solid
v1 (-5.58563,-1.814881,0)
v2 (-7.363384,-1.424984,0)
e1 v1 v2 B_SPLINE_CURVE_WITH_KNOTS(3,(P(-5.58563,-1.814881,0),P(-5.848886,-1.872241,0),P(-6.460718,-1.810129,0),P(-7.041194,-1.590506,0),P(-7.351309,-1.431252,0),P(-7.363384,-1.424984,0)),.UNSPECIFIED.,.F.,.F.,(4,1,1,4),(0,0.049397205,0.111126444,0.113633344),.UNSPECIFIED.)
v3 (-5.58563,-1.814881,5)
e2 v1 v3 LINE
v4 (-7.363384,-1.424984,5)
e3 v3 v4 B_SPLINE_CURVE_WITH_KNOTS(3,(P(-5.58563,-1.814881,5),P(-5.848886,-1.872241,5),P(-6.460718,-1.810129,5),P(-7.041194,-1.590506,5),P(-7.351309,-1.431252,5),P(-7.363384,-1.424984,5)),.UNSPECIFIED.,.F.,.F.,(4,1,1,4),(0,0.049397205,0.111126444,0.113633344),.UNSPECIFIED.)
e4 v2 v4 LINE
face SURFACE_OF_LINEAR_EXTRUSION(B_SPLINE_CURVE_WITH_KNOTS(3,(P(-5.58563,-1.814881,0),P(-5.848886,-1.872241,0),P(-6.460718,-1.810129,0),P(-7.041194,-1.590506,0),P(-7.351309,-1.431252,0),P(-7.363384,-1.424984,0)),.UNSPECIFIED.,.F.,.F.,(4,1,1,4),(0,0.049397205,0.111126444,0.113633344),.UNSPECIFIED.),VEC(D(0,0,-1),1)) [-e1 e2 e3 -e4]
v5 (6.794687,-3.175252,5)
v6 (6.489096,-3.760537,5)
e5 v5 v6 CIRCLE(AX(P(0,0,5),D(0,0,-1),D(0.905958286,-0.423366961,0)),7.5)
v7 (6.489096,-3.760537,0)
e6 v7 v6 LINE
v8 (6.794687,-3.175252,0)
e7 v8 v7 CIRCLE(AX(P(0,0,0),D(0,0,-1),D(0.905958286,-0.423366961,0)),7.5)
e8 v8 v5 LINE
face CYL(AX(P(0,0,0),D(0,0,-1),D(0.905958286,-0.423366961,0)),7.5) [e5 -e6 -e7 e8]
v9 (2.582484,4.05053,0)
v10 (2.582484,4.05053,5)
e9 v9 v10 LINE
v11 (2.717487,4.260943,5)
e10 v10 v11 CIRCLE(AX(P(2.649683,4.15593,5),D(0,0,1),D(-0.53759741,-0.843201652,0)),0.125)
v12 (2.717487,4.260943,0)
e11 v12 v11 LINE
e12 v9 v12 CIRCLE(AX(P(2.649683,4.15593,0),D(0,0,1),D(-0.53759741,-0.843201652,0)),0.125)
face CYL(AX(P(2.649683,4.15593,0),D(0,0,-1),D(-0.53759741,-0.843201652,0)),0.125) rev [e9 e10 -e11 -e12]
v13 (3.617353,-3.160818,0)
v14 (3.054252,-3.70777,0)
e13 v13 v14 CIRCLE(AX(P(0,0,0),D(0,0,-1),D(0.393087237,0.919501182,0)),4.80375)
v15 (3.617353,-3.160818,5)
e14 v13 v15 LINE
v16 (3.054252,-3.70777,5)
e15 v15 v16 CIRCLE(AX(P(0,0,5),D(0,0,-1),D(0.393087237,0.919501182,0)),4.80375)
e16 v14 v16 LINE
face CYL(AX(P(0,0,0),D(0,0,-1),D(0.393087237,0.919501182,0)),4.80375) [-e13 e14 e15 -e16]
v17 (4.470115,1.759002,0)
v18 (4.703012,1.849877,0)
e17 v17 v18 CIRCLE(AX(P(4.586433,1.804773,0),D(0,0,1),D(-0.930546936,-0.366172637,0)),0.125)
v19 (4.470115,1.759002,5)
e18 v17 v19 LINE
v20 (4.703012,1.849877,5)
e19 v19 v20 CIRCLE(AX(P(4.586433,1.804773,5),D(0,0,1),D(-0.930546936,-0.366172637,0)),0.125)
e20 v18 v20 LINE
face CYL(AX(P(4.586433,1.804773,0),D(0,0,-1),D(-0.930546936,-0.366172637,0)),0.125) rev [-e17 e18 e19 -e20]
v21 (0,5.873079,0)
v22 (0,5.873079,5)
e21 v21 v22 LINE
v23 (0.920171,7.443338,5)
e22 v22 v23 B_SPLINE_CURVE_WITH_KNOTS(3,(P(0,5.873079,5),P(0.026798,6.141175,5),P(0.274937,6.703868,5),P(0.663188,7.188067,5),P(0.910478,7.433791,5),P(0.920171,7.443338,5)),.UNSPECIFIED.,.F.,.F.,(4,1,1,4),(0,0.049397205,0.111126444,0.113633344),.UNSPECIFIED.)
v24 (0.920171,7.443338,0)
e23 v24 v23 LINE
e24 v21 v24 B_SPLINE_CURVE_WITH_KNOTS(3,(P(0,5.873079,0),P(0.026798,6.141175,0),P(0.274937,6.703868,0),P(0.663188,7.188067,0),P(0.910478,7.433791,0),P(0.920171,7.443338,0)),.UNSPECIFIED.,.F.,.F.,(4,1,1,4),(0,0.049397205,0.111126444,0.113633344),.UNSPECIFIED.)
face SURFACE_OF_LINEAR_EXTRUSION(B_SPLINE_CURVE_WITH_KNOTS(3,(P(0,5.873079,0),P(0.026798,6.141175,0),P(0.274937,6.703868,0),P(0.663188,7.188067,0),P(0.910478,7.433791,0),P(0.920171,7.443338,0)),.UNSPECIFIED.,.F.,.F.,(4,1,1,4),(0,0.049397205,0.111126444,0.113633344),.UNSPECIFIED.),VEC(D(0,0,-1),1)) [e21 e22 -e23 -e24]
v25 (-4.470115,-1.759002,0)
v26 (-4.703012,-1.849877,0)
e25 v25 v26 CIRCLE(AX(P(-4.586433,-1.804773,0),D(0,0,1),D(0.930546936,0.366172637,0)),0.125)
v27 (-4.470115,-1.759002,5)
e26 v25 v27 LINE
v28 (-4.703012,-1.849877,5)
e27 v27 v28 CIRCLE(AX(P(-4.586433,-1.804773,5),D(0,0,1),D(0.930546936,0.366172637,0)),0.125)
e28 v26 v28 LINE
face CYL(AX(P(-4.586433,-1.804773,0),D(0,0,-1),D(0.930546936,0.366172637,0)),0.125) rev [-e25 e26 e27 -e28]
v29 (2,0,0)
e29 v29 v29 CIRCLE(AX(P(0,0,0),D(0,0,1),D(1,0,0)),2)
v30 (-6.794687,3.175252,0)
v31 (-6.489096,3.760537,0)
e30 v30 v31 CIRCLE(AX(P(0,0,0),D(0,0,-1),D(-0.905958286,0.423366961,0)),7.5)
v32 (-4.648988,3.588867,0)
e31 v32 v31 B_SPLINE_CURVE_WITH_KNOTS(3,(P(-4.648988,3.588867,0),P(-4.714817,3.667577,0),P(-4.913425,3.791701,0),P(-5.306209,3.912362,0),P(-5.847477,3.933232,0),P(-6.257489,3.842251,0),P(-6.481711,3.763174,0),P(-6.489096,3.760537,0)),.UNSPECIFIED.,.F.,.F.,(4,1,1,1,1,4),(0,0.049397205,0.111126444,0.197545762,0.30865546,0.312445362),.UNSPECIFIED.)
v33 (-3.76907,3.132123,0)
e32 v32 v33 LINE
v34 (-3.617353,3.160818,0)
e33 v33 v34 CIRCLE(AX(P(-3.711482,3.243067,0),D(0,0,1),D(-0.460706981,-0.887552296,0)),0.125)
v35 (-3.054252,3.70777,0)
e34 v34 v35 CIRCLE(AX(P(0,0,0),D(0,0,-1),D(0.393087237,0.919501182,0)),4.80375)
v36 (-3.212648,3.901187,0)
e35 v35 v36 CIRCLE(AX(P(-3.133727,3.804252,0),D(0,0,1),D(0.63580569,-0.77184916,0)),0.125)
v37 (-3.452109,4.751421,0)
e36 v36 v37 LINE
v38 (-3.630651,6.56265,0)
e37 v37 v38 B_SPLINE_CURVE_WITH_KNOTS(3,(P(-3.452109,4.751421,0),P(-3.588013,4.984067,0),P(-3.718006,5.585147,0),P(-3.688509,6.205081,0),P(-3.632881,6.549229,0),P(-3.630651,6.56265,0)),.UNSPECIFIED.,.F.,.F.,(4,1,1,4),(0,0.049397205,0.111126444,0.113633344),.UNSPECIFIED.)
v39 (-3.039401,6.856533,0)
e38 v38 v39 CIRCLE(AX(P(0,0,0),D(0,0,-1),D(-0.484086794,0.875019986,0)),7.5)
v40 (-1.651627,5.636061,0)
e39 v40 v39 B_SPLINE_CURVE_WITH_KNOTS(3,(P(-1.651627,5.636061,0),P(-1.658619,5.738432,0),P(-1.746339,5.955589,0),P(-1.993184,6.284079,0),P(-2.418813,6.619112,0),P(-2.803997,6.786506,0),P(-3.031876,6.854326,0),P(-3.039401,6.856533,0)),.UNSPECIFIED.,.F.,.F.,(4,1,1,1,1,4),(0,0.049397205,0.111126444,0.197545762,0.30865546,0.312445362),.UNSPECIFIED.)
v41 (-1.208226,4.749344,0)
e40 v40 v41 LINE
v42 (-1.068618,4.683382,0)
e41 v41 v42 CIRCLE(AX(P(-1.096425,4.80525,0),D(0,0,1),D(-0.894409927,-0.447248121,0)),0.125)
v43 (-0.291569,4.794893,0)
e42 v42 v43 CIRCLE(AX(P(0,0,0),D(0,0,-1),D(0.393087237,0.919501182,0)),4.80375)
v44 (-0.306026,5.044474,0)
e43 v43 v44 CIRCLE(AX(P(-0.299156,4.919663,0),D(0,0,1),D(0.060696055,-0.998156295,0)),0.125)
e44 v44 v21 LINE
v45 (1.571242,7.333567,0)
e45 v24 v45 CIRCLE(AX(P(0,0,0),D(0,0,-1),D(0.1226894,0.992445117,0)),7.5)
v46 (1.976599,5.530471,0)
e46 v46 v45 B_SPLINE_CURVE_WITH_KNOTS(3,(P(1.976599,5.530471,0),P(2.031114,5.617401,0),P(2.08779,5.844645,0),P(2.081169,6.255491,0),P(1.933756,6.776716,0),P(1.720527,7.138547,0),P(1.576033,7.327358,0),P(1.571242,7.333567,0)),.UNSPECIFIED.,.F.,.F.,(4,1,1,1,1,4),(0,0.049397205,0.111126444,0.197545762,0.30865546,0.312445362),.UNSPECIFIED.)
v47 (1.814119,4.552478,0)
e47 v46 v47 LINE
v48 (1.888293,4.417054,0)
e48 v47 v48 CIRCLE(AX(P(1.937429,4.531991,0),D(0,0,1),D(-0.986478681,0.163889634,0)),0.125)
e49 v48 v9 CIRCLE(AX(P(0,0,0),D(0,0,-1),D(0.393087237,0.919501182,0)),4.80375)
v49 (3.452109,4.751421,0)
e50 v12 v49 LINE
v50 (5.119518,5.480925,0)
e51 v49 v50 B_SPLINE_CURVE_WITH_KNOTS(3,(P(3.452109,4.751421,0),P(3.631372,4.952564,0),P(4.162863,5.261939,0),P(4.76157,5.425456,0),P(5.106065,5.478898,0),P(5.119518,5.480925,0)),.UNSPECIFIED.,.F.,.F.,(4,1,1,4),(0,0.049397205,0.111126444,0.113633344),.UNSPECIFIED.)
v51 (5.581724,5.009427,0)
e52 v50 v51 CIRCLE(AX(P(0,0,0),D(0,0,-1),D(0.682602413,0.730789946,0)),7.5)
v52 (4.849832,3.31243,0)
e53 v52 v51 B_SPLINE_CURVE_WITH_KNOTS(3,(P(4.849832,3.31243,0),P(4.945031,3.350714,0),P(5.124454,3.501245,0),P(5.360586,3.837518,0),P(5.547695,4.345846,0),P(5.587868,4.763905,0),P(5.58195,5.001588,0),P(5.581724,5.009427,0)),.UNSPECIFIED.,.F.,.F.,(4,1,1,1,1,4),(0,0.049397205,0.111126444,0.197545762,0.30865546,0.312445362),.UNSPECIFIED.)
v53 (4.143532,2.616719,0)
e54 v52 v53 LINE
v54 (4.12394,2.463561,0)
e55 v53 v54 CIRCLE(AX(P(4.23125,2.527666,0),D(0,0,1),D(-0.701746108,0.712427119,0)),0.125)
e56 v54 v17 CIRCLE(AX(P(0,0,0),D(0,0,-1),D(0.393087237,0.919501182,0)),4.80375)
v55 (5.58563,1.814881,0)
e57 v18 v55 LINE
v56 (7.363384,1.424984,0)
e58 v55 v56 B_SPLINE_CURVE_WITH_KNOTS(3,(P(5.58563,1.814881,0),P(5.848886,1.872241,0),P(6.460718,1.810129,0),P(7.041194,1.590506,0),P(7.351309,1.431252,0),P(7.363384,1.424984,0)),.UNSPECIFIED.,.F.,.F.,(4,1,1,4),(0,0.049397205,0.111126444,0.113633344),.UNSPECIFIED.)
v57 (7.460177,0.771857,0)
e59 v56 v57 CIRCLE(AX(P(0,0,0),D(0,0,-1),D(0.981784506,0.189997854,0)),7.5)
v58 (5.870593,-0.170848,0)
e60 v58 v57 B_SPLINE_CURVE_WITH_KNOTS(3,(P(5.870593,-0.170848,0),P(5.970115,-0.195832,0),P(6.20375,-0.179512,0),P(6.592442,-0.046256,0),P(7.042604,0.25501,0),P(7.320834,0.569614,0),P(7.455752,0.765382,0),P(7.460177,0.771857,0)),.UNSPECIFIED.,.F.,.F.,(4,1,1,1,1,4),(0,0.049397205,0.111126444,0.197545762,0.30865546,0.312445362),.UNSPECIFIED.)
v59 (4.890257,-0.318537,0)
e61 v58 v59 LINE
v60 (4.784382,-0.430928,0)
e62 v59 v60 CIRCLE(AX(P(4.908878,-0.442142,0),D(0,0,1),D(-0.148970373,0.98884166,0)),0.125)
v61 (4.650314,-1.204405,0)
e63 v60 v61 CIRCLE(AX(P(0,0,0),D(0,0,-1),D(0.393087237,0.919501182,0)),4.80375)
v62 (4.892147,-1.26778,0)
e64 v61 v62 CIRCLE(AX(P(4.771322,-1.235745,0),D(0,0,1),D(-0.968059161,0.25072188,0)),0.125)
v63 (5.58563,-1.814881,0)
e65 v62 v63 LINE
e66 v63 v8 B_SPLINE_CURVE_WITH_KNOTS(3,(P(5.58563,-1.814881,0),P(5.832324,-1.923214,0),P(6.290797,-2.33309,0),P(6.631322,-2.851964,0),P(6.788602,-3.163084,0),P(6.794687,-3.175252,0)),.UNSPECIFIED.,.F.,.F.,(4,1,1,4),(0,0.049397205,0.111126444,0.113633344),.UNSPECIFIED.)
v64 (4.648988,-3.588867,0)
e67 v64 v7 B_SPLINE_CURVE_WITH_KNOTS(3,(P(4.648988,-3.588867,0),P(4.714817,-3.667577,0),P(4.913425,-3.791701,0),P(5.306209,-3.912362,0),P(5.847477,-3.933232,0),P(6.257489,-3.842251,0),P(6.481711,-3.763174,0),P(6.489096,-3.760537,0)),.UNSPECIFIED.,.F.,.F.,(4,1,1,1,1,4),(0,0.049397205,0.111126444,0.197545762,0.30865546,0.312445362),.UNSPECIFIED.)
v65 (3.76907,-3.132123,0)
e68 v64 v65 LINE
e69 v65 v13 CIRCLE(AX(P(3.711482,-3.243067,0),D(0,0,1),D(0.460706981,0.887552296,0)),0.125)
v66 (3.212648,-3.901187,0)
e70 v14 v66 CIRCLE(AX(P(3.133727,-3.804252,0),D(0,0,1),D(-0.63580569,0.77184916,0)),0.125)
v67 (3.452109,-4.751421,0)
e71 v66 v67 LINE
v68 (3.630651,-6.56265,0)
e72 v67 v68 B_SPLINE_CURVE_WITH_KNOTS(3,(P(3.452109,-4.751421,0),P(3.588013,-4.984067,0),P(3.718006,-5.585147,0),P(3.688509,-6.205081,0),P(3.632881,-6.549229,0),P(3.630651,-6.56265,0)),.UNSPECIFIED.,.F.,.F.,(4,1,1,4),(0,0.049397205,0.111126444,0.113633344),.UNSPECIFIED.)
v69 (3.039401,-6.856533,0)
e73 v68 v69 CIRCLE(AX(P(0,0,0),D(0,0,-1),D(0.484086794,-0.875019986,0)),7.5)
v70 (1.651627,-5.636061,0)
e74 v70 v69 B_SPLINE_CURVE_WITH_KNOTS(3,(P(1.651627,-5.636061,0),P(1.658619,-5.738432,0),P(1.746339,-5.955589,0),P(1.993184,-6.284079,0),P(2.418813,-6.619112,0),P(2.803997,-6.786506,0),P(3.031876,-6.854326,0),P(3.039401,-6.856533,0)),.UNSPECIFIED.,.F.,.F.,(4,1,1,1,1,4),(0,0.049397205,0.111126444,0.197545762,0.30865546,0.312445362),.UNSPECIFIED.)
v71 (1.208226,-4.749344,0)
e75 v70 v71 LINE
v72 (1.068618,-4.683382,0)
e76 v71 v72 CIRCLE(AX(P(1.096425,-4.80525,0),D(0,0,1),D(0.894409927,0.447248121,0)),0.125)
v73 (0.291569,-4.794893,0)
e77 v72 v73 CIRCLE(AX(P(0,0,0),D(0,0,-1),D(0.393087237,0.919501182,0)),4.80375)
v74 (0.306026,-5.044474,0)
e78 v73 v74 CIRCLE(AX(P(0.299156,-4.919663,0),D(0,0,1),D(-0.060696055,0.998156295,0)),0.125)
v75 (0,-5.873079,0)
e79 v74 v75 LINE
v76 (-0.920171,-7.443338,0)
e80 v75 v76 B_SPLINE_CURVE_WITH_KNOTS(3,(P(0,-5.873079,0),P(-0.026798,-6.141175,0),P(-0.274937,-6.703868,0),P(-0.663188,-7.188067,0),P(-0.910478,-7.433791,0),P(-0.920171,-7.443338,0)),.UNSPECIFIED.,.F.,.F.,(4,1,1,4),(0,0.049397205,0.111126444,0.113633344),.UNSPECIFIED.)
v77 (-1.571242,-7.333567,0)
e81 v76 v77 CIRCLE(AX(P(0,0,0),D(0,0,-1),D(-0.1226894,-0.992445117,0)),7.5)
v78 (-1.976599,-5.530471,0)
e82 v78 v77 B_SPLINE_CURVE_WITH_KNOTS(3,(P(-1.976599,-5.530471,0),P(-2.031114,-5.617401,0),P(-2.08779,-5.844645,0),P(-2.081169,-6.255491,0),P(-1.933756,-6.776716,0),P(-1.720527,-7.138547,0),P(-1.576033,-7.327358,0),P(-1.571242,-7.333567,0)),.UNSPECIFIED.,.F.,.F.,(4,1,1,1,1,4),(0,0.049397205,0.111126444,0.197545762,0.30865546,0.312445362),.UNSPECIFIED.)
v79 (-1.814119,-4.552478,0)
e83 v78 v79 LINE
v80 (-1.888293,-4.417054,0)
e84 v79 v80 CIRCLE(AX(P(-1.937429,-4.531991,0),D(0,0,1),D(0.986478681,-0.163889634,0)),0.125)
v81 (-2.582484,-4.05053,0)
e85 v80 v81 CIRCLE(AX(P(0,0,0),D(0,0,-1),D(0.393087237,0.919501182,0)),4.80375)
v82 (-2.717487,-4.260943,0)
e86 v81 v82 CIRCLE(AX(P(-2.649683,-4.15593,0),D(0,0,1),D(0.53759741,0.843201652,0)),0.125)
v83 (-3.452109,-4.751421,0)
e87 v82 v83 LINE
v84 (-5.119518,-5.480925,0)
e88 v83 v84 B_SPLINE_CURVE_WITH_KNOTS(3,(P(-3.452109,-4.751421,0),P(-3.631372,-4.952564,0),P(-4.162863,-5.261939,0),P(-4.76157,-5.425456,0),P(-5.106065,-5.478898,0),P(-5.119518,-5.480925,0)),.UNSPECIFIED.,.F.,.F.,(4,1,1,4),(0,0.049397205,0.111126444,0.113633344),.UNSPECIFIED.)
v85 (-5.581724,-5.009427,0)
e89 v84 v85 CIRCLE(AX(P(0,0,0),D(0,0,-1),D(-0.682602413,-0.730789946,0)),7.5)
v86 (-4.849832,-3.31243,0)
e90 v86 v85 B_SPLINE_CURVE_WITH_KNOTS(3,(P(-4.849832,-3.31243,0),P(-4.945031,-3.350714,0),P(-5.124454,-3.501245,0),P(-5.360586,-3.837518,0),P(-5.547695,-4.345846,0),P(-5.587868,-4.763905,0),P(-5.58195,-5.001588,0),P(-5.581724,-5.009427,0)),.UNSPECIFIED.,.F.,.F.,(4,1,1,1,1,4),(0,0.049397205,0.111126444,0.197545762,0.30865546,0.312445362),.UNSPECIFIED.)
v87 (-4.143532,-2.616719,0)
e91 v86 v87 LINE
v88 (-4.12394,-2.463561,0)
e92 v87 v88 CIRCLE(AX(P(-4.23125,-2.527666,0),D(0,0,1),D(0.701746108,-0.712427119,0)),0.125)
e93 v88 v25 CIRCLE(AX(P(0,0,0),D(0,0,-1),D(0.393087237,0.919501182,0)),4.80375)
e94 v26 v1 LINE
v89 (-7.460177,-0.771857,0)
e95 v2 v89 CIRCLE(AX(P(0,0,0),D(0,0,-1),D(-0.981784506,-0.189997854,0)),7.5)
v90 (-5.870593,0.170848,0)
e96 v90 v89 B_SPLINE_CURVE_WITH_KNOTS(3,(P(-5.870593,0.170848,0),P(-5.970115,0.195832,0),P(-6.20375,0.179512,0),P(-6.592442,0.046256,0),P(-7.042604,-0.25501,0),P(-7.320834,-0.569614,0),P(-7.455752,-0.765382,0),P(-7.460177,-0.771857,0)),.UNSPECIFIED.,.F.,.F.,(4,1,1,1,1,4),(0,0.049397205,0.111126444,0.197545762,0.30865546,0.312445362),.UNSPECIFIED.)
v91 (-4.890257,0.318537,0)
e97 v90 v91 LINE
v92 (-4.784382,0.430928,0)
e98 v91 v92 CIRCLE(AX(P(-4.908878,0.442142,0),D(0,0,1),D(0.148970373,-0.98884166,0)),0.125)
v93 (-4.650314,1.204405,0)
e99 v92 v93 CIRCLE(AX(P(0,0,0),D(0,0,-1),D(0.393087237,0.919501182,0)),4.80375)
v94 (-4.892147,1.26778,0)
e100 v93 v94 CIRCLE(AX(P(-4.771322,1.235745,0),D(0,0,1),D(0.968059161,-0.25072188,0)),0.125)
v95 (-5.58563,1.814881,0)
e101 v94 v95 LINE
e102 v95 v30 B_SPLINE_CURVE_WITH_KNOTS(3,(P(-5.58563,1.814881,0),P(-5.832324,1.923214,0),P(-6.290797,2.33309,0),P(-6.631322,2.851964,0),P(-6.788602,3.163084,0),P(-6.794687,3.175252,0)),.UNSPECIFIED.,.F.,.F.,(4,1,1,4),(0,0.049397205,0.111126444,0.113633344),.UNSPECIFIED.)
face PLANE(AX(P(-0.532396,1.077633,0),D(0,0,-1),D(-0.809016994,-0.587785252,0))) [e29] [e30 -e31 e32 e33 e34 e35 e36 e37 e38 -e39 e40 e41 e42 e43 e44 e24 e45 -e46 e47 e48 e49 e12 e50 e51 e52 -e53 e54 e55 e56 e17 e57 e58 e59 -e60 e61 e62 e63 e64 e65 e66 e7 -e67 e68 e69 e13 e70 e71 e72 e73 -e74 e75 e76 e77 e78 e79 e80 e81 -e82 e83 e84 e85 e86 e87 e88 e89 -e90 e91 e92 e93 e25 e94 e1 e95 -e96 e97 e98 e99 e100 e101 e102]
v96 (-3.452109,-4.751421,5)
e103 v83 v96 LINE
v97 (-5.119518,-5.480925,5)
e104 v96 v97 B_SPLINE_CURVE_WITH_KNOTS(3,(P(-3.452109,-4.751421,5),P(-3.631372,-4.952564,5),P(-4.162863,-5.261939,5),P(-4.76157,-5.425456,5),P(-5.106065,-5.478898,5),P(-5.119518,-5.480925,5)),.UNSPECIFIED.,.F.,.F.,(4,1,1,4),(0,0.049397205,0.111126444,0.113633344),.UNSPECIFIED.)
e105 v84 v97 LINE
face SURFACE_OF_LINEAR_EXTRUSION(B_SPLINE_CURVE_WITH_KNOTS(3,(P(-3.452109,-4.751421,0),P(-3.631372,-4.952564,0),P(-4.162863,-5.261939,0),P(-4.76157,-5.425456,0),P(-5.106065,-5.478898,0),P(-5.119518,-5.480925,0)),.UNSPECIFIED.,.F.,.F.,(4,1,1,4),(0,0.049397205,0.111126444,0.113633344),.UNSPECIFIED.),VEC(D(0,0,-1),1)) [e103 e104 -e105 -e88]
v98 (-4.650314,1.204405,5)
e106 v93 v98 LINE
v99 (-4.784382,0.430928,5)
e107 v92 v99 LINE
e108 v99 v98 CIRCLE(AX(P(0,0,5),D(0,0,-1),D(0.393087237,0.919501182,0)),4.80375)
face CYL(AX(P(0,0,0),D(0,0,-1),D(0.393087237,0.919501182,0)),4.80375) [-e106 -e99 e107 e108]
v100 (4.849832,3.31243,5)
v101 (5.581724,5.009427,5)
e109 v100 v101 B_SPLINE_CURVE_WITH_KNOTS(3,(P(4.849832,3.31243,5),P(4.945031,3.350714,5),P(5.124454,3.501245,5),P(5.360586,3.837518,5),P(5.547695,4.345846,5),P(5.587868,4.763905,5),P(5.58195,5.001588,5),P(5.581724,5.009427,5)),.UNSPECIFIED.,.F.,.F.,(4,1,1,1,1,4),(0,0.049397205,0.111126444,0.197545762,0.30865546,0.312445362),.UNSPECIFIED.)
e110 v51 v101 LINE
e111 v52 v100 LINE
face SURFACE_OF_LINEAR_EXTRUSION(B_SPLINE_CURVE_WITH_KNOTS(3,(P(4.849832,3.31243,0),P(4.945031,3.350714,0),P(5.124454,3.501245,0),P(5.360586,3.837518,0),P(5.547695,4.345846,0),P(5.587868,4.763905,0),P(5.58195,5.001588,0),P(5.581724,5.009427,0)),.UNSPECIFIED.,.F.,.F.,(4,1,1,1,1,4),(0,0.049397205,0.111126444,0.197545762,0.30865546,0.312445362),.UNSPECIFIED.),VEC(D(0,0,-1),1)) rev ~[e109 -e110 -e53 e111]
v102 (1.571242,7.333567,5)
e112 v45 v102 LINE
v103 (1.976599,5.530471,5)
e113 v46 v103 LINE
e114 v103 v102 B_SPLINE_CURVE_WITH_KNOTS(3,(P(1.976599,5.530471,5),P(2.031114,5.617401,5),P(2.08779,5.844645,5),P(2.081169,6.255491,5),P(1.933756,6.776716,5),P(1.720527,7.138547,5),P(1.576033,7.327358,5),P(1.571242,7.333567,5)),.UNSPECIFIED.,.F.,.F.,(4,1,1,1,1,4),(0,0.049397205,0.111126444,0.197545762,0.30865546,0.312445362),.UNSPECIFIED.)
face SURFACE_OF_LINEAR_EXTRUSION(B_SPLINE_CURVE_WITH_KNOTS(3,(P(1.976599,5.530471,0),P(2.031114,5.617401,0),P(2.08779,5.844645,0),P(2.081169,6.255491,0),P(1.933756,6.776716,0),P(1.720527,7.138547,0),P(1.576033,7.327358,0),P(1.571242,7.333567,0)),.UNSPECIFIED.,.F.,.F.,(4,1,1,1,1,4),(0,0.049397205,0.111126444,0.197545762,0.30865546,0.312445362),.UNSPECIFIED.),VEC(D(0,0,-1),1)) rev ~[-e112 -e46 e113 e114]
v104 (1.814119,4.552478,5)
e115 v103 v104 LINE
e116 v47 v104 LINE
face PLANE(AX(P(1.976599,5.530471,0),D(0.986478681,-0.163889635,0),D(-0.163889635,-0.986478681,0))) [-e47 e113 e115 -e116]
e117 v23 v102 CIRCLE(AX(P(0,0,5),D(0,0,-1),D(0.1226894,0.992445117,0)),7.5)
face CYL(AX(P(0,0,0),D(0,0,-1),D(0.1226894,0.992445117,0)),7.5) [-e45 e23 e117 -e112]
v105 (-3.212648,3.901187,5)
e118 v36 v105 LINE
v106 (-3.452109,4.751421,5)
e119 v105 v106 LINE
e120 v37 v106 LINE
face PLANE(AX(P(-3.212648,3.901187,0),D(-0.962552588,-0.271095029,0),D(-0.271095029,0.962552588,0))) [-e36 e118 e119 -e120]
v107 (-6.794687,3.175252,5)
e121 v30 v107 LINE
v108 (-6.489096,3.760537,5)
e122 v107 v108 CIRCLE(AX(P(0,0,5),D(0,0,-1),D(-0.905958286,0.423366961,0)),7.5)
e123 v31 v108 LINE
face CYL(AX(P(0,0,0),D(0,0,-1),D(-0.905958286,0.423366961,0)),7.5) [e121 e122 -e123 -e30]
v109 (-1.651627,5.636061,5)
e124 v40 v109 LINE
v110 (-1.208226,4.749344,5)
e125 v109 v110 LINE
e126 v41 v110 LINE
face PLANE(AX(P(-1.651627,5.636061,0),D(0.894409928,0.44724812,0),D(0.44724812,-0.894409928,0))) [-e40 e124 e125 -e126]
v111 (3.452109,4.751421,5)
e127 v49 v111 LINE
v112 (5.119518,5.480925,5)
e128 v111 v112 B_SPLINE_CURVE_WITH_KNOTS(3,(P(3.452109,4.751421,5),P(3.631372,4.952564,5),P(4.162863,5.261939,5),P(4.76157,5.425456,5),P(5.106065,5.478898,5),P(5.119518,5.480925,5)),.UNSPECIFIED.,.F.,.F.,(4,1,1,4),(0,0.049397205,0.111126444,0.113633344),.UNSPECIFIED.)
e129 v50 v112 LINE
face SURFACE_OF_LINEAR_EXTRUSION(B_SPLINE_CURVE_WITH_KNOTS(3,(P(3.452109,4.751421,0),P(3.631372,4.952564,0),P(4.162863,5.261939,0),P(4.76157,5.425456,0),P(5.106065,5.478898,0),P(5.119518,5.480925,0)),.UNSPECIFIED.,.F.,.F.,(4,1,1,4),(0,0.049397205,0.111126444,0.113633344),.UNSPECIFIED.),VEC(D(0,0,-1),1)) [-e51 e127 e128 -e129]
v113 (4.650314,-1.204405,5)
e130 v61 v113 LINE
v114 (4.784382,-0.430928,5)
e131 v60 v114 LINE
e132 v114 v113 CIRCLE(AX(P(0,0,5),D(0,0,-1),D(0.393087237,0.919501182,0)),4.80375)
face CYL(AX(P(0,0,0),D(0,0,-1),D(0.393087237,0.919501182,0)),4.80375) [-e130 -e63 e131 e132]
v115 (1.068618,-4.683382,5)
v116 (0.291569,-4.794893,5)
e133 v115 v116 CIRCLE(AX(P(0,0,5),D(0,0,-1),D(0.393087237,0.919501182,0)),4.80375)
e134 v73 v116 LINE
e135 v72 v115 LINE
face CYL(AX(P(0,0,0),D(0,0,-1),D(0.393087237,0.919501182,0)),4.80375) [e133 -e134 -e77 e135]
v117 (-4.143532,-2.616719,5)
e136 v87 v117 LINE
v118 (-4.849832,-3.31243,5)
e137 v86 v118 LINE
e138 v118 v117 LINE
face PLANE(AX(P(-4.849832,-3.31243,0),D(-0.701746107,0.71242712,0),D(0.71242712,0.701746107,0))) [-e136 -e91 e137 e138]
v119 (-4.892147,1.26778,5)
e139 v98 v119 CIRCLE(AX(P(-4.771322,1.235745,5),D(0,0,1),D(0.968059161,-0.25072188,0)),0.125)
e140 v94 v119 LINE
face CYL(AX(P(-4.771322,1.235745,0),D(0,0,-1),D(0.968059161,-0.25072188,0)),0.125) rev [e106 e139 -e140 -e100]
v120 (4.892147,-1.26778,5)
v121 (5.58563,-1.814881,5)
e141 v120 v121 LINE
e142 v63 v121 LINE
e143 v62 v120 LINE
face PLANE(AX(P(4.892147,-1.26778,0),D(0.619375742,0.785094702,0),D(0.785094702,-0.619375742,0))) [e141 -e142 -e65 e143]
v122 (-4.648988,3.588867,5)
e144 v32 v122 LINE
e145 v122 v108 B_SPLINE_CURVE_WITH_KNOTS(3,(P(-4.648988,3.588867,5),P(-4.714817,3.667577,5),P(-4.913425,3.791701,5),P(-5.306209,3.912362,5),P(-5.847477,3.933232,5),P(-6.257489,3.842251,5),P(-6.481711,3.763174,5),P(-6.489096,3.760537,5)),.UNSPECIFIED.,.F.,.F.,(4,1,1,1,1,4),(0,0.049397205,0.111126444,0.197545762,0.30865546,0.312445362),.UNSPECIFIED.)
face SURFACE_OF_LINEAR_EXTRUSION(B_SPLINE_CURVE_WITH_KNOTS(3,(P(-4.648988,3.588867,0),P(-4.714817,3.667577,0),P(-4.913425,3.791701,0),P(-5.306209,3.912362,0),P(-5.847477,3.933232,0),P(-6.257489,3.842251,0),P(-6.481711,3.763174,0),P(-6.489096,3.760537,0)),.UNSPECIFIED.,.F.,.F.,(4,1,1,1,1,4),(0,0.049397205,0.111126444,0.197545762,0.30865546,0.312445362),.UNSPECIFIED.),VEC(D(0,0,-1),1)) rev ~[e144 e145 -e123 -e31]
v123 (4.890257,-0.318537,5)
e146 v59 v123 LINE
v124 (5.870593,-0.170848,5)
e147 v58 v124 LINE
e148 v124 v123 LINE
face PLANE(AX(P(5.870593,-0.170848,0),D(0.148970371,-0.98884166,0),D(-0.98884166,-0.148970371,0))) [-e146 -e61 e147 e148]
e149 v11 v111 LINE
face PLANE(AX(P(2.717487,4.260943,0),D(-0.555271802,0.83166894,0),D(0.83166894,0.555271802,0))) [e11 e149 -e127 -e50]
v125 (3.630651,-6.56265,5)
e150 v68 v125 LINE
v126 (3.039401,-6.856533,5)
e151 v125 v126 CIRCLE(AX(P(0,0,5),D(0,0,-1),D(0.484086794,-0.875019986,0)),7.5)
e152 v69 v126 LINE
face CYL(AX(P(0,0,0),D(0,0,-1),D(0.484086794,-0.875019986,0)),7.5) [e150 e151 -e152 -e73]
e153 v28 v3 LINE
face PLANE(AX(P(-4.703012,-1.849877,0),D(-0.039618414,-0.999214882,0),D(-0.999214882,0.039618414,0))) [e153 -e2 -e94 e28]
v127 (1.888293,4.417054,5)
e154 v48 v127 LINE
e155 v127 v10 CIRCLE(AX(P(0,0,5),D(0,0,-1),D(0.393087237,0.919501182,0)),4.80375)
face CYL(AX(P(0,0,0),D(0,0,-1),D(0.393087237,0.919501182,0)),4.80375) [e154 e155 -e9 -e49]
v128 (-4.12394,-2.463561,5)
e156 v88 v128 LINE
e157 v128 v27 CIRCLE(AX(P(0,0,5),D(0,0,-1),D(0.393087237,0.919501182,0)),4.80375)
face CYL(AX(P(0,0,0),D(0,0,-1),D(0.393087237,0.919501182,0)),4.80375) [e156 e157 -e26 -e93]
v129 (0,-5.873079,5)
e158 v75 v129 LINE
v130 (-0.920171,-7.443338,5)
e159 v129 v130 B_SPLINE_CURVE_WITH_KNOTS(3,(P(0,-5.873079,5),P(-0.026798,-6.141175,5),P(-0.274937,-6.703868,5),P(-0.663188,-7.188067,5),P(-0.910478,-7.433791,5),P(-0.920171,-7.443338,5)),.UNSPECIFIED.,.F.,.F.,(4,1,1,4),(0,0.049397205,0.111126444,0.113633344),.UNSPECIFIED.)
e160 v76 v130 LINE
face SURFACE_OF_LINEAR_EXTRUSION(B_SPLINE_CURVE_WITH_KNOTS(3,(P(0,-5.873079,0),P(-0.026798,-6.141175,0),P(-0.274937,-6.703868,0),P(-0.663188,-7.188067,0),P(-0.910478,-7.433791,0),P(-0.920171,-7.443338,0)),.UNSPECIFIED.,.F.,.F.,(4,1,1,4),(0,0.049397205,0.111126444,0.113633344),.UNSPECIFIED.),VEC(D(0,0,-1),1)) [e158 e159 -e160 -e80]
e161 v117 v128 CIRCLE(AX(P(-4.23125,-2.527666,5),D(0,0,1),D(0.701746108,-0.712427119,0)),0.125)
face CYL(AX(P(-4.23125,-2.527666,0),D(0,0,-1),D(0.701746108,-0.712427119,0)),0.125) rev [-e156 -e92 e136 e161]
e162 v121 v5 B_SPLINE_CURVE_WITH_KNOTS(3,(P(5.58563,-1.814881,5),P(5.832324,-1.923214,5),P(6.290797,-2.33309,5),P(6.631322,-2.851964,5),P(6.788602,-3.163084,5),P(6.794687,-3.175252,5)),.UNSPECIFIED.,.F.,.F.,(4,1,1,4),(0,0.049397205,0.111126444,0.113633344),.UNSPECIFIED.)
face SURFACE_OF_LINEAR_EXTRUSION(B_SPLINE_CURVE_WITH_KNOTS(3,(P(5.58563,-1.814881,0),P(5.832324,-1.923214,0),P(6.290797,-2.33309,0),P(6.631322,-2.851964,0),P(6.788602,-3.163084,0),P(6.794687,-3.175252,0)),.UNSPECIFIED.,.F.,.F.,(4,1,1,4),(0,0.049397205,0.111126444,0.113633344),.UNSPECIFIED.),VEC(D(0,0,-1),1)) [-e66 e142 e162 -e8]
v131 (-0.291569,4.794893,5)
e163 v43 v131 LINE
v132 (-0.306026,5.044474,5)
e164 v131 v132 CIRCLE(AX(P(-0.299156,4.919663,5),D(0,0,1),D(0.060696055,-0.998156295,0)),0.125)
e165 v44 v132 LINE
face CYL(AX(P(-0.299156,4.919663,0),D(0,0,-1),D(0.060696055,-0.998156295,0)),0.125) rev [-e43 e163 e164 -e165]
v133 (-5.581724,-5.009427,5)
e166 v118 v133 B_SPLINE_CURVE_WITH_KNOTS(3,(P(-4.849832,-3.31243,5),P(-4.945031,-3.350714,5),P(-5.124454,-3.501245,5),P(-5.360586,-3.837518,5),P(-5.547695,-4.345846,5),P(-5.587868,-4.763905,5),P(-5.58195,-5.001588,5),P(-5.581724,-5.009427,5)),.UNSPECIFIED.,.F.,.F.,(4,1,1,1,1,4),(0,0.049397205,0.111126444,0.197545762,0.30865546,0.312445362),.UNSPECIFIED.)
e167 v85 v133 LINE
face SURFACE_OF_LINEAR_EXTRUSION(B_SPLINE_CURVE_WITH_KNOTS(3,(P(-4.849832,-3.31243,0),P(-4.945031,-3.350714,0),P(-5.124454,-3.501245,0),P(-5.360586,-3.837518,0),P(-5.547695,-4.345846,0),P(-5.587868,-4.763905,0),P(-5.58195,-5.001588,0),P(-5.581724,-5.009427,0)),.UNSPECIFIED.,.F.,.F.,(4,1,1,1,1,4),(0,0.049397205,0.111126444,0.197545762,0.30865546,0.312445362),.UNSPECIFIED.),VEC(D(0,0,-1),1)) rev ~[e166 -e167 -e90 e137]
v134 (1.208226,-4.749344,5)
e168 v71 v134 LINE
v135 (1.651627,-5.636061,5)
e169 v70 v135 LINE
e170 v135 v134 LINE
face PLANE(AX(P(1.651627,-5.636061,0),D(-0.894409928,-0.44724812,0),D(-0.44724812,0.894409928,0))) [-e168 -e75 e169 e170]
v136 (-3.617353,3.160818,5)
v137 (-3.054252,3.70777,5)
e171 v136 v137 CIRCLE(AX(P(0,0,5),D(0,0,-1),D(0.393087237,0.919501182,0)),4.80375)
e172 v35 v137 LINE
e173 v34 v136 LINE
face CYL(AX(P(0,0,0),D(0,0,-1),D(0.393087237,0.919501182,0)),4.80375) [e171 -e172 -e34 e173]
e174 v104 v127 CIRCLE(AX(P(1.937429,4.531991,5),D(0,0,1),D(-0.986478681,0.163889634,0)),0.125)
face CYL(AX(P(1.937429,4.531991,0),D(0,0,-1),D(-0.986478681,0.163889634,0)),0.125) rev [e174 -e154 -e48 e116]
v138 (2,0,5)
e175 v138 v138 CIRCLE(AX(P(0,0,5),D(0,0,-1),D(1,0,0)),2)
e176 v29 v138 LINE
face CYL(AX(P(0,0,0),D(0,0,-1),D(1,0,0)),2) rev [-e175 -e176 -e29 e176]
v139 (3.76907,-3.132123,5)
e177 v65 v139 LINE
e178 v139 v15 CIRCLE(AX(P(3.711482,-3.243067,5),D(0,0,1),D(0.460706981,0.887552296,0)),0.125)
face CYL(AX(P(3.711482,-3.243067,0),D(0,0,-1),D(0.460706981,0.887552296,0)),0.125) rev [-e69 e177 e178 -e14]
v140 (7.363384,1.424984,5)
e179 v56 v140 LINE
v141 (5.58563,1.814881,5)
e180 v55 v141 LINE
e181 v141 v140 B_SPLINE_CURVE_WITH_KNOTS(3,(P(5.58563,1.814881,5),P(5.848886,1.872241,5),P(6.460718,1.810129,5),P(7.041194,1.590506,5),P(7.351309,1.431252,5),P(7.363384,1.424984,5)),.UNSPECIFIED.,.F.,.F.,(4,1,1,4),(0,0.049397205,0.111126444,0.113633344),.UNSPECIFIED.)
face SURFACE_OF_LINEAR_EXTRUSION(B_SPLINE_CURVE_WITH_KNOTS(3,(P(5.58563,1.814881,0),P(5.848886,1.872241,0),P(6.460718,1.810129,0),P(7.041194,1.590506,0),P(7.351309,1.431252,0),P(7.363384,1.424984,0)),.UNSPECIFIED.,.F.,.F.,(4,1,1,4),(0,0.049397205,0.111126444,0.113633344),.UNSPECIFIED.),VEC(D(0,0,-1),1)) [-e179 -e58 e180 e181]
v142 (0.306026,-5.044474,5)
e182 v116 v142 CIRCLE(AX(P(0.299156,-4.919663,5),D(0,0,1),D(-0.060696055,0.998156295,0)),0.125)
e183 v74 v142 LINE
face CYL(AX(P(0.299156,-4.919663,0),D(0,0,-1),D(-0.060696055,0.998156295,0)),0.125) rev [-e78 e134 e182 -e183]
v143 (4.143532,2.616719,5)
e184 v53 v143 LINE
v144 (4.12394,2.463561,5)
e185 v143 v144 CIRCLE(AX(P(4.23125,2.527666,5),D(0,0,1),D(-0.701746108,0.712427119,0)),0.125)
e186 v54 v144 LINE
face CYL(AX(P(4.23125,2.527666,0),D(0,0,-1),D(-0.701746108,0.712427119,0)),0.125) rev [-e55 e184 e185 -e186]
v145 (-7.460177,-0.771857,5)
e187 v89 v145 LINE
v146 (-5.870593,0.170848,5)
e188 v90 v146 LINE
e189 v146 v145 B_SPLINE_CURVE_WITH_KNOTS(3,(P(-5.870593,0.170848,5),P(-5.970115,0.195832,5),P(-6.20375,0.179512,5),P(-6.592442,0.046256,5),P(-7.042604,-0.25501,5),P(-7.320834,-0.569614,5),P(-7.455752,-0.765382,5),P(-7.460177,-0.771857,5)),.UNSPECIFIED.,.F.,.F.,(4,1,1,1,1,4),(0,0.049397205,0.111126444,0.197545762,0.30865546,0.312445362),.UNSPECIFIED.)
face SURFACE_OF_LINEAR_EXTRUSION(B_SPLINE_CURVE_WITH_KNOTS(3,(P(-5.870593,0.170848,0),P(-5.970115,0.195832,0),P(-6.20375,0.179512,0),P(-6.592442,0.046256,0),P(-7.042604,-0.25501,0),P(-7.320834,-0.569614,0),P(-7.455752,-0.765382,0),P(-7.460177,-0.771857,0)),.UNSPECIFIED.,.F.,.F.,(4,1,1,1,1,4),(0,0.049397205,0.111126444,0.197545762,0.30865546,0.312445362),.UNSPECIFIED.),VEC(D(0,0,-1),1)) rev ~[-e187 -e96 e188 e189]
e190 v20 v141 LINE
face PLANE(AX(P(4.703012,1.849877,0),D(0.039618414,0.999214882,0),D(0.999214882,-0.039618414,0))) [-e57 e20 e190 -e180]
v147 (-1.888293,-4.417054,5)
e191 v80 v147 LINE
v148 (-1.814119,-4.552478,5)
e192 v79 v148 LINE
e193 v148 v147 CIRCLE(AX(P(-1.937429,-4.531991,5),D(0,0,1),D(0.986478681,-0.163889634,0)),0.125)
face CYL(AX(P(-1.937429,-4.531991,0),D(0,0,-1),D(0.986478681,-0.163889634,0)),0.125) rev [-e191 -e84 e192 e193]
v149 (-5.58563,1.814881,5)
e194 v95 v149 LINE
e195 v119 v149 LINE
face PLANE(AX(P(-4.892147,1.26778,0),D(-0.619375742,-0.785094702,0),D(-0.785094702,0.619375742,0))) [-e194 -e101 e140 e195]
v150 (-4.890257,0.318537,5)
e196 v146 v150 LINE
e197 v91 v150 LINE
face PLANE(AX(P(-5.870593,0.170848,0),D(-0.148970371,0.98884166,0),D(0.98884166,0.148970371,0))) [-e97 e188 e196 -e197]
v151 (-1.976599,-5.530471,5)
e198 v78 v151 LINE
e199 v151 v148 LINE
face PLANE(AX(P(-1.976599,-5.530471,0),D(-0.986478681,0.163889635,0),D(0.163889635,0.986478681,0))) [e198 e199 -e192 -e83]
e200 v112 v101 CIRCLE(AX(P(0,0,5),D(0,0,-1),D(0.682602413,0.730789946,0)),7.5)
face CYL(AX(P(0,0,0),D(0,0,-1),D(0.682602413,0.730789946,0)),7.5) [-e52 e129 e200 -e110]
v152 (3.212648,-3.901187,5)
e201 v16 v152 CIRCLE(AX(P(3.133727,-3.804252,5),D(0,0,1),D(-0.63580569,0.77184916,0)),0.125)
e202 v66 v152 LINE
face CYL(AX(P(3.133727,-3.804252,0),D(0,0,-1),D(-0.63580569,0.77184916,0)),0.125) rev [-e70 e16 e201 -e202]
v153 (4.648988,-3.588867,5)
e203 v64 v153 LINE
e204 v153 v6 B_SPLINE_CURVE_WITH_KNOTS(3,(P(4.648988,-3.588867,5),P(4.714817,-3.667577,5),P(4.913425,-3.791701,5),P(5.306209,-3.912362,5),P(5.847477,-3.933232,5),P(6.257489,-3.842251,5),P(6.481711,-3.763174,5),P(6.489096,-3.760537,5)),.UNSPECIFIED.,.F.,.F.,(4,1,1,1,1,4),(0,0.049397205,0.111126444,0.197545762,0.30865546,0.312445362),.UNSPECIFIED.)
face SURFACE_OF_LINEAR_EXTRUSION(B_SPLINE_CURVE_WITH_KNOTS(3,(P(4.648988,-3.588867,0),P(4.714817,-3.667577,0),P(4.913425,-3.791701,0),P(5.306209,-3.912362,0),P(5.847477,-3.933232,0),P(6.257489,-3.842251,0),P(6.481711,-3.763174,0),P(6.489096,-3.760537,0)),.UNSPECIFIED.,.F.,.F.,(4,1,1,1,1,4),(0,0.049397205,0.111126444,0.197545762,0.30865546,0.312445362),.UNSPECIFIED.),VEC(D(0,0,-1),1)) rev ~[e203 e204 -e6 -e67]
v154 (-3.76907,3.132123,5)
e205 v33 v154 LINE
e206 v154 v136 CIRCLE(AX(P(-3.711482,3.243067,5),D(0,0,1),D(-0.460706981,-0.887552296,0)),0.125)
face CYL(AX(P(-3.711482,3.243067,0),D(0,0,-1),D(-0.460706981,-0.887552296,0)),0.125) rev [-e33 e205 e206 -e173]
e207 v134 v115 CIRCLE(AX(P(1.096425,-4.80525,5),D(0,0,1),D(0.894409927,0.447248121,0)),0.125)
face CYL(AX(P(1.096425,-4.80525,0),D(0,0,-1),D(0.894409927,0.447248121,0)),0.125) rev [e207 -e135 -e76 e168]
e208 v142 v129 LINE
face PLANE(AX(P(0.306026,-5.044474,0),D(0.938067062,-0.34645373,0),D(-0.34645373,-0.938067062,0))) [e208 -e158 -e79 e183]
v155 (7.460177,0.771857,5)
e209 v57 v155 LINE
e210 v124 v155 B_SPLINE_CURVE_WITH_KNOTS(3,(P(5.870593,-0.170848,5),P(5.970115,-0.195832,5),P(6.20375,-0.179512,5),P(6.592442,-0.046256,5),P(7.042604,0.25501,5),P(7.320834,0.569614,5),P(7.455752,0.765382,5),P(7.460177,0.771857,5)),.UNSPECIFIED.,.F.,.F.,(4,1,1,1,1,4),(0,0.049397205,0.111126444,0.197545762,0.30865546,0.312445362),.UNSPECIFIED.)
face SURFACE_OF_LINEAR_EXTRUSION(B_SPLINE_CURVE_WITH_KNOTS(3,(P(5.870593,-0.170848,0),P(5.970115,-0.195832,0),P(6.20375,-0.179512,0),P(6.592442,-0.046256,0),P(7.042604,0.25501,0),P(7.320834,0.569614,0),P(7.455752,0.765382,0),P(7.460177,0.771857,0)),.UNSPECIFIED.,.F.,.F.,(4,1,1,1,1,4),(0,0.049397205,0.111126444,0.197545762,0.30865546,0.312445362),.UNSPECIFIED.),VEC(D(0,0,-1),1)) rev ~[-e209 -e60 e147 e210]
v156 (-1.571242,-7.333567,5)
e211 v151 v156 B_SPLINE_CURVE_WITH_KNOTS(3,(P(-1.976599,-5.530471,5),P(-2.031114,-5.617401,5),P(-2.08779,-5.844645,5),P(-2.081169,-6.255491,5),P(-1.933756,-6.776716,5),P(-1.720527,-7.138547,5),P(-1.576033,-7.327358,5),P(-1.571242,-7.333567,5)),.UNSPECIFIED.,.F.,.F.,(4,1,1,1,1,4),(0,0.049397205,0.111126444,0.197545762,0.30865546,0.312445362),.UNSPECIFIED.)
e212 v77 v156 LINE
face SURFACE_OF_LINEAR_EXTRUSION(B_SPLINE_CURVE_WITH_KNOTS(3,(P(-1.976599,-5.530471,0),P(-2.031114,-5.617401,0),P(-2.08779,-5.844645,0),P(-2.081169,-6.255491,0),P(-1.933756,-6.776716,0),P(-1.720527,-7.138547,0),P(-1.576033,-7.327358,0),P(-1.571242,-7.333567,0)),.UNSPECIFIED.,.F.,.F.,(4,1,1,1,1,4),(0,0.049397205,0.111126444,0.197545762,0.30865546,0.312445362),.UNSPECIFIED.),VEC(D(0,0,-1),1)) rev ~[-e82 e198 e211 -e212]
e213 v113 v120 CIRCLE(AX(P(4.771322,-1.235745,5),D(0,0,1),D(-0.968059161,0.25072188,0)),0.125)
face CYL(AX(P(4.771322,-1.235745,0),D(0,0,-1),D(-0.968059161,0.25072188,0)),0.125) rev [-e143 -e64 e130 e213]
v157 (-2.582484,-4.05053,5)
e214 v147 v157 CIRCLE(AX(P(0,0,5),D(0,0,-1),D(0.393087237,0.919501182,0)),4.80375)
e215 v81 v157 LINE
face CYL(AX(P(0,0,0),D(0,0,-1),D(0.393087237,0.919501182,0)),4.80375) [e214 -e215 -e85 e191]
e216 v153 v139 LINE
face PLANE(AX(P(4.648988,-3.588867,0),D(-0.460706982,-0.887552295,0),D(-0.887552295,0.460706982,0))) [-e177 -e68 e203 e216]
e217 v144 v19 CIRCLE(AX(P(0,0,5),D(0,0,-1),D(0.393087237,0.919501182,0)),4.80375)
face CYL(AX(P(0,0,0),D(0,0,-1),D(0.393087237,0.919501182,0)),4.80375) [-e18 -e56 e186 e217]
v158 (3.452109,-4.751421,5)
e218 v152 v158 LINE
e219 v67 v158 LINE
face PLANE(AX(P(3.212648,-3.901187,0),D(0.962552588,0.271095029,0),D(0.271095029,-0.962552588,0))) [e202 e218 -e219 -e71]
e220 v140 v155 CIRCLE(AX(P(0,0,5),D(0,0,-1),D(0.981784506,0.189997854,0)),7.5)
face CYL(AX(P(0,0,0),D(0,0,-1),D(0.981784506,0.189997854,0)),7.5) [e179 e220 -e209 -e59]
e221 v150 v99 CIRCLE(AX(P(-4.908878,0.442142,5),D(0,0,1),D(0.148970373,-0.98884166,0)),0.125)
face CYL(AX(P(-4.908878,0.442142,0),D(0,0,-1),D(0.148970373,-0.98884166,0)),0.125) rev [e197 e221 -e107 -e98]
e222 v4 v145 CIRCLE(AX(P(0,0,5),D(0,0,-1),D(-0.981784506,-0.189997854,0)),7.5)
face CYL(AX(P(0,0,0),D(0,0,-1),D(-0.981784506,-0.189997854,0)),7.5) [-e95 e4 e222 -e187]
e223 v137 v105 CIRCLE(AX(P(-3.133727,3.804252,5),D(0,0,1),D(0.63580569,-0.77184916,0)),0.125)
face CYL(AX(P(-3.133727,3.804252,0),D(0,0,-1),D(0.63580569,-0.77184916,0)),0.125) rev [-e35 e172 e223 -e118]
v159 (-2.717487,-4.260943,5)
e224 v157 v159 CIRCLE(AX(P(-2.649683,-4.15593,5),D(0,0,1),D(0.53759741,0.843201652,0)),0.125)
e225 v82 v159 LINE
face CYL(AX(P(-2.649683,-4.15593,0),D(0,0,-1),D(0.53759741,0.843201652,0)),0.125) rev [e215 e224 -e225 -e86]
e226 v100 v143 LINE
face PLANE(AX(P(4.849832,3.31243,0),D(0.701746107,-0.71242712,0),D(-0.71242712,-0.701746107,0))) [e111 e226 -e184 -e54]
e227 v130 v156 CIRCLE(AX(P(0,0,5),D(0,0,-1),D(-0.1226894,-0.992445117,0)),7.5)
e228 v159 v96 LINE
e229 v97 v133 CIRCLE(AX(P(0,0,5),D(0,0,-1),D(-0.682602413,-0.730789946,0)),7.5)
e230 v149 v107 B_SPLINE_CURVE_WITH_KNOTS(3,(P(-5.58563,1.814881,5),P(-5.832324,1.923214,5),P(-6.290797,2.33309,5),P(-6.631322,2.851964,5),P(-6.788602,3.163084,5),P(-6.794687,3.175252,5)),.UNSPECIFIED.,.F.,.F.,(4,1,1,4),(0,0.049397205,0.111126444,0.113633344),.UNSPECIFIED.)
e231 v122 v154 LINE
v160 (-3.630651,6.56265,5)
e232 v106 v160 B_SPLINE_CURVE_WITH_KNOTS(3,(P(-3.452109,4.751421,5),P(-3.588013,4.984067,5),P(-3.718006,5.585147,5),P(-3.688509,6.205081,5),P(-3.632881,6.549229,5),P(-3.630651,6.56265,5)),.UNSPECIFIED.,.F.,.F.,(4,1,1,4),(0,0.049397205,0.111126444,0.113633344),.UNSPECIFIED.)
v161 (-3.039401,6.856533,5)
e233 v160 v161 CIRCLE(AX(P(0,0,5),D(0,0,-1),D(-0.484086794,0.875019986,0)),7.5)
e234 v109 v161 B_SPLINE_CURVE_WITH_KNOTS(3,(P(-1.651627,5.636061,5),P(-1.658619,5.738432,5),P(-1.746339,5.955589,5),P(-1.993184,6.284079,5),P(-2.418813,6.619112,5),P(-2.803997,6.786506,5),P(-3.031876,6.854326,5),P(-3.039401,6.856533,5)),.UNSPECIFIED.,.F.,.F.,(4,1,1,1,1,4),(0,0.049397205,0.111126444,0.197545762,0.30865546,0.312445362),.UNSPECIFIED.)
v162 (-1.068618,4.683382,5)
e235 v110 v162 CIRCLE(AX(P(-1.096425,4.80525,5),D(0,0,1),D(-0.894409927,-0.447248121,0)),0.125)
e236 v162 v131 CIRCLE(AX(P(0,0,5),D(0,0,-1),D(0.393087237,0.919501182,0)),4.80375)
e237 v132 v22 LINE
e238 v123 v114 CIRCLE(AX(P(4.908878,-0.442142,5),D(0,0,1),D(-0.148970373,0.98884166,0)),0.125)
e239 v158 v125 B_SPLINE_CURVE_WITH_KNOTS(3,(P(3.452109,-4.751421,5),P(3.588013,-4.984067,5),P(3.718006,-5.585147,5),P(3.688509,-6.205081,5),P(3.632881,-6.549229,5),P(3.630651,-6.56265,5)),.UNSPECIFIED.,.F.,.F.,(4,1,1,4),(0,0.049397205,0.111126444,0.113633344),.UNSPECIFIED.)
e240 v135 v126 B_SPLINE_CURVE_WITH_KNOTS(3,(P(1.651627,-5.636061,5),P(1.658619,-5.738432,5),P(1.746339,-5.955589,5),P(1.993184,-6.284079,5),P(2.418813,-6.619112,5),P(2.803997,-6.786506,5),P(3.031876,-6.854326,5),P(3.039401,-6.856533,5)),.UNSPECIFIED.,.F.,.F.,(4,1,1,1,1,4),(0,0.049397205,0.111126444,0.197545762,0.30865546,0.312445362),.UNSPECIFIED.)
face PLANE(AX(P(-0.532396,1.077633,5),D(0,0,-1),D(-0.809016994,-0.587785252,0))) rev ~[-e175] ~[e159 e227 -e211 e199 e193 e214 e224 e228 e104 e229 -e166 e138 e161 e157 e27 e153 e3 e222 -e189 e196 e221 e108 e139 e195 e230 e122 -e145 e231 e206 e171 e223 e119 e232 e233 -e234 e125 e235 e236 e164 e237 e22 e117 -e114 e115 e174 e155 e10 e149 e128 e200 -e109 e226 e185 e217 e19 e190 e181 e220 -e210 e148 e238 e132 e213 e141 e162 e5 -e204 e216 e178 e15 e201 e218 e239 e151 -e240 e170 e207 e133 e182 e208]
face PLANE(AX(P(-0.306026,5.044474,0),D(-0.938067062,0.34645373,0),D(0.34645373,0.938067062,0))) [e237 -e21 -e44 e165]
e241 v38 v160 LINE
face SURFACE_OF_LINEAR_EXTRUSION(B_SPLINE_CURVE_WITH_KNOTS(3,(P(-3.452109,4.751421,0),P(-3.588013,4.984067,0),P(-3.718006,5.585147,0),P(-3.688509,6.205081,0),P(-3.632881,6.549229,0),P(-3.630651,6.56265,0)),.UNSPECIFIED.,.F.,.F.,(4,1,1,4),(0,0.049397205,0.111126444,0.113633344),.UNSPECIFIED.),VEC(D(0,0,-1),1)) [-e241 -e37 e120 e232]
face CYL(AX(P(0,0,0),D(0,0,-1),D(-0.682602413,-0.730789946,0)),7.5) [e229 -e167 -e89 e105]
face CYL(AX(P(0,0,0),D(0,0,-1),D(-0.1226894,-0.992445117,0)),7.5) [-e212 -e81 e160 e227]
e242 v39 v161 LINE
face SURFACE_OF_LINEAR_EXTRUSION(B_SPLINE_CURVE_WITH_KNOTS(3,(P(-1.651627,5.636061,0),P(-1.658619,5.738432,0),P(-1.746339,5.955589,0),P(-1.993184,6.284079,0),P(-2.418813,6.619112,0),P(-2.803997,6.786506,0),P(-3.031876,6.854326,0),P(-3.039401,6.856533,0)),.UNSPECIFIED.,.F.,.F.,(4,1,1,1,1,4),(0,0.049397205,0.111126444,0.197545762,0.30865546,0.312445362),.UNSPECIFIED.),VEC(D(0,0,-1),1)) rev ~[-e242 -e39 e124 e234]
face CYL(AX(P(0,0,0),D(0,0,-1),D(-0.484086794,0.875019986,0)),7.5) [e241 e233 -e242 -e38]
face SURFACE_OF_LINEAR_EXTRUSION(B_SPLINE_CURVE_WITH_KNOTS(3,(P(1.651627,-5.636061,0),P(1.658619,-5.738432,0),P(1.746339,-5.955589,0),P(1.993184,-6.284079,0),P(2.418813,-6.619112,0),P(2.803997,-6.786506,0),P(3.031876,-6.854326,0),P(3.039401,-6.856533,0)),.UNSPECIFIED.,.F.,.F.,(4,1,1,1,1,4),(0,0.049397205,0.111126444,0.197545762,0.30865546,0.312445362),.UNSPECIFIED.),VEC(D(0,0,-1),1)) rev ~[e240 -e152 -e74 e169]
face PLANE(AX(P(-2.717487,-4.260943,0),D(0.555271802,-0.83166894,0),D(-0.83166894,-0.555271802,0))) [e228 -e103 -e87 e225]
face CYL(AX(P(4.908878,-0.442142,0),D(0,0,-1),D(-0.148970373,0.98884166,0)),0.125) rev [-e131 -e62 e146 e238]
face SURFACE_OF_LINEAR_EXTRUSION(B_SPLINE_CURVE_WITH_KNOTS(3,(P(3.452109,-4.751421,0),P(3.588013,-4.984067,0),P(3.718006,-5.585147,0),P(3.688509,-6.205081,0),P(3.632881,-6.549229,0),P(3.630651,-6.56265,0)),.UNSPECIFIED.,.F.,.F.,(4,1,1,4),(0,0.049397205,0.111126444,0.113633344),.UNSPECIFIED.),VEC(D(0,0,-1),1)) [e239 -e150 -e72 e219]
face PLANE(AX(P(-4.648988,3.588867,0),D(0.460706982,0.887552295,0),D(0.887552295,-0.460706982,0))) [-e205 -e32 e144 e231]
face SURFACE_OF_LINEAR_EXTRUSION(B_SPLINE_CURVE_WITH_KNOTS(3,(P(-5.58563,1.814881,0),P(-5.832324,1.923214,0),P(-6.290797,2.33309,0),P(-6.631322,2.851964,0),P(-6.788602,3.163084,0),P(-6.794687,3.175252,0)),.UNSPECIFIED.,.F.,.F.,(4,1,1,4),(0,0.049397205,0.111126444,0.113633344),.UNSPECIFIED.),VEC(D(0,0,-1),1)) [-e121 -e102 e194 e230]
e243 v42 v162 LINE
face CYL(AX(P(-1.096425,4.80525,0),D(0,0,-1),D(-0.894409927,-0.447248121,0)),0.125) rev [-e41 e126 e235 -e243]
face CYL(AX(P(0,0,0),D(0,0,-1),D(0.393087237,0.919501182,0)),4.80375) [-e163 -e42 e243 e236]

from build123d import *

# Parameters (mm, degrees)
CROQUIS2_R              = 2
SALIENTE_EXTRUIR1_DEPTH = 5
MATRIZC6_COUNT          = 10


with BuildPart() as part:
    # Croquis2 → Saliente-Extruir1 (new body)
    with BuildSketch(Plane.XY):
        with BuildLine():
            Line((-0.306026412, 5.044473868), (0, 5.87307888))
            add(Edge.make_bspline(
                [(0, 5.87307888), (0.02679779, 6.141175495), (0.274936867, 6.703868053), (0.663188036, 7.188067029), (0.910477928, 7.4337912), (0.9201705, 7.443338381)],
                knots=[0, 0, 0, 0, 0.049397205, 0.111126444, 0.113633344, 0.113633344, 0.113633344, 0.113633344], degree=3))
            ThreePointArc((0.9201705, 7.443338381), (1.246914914, 7.395620542), (1.571242221, 7.333566519))
            add(Edge.make_bspline(
                [(1.976598848, 5.530471275), (2.031114418, 5.617400913), (2.087789883, 5.844644836), (2.081168958, 6.255490925), (1.933755754, 6.776716333), (1.720527283, 7.138546833), (1.576032848, 7.327357984), (1.571242221, 7.333566519)],
                knots=[0, 0, 0, 0, 0.049397205, 0.111126444, 0.197545762, 0.30865546, 0.312445362, 0.312445362, 0.312445362, 0.312445362], degree=3))
            Line((1.976598848, 5.530471275), (1.814118887, 4.552477655))
            ThreePointArc((1.814118887, 4.552477655), (1.827796208, 4.471943871), (1.888292818, 4.417053803))
            ThreePointArc((1.888292818, 4.417053803), (-0.82041007, -4.733174556), (-0.291568658, 4.794893302))
            ThreePointArc((-0.291568658, 4.794893302), (-0.174364868, 4.926891746), (-0.306026412, 5.044473868))
        make_face()
        Circle(CROQUIS2_R, mode=Mode.SUBTRACT)
    saliente_extruir1 = extrude(amount=SALIENTE_EXTRUIR1_DEPTH)

    # MatrizC6: Saliente-Extruir1 ×10 about axis
    matrizc6_axis = Axis((0, 0, 5), (0, 0, -1))
    for i in range(1, MATRIZC6_COUNT):
        add(saliente_extruir1.rotate(matrizc6_axis, i * 360 / MATRIZC6_COUNT))


solid = part.part
